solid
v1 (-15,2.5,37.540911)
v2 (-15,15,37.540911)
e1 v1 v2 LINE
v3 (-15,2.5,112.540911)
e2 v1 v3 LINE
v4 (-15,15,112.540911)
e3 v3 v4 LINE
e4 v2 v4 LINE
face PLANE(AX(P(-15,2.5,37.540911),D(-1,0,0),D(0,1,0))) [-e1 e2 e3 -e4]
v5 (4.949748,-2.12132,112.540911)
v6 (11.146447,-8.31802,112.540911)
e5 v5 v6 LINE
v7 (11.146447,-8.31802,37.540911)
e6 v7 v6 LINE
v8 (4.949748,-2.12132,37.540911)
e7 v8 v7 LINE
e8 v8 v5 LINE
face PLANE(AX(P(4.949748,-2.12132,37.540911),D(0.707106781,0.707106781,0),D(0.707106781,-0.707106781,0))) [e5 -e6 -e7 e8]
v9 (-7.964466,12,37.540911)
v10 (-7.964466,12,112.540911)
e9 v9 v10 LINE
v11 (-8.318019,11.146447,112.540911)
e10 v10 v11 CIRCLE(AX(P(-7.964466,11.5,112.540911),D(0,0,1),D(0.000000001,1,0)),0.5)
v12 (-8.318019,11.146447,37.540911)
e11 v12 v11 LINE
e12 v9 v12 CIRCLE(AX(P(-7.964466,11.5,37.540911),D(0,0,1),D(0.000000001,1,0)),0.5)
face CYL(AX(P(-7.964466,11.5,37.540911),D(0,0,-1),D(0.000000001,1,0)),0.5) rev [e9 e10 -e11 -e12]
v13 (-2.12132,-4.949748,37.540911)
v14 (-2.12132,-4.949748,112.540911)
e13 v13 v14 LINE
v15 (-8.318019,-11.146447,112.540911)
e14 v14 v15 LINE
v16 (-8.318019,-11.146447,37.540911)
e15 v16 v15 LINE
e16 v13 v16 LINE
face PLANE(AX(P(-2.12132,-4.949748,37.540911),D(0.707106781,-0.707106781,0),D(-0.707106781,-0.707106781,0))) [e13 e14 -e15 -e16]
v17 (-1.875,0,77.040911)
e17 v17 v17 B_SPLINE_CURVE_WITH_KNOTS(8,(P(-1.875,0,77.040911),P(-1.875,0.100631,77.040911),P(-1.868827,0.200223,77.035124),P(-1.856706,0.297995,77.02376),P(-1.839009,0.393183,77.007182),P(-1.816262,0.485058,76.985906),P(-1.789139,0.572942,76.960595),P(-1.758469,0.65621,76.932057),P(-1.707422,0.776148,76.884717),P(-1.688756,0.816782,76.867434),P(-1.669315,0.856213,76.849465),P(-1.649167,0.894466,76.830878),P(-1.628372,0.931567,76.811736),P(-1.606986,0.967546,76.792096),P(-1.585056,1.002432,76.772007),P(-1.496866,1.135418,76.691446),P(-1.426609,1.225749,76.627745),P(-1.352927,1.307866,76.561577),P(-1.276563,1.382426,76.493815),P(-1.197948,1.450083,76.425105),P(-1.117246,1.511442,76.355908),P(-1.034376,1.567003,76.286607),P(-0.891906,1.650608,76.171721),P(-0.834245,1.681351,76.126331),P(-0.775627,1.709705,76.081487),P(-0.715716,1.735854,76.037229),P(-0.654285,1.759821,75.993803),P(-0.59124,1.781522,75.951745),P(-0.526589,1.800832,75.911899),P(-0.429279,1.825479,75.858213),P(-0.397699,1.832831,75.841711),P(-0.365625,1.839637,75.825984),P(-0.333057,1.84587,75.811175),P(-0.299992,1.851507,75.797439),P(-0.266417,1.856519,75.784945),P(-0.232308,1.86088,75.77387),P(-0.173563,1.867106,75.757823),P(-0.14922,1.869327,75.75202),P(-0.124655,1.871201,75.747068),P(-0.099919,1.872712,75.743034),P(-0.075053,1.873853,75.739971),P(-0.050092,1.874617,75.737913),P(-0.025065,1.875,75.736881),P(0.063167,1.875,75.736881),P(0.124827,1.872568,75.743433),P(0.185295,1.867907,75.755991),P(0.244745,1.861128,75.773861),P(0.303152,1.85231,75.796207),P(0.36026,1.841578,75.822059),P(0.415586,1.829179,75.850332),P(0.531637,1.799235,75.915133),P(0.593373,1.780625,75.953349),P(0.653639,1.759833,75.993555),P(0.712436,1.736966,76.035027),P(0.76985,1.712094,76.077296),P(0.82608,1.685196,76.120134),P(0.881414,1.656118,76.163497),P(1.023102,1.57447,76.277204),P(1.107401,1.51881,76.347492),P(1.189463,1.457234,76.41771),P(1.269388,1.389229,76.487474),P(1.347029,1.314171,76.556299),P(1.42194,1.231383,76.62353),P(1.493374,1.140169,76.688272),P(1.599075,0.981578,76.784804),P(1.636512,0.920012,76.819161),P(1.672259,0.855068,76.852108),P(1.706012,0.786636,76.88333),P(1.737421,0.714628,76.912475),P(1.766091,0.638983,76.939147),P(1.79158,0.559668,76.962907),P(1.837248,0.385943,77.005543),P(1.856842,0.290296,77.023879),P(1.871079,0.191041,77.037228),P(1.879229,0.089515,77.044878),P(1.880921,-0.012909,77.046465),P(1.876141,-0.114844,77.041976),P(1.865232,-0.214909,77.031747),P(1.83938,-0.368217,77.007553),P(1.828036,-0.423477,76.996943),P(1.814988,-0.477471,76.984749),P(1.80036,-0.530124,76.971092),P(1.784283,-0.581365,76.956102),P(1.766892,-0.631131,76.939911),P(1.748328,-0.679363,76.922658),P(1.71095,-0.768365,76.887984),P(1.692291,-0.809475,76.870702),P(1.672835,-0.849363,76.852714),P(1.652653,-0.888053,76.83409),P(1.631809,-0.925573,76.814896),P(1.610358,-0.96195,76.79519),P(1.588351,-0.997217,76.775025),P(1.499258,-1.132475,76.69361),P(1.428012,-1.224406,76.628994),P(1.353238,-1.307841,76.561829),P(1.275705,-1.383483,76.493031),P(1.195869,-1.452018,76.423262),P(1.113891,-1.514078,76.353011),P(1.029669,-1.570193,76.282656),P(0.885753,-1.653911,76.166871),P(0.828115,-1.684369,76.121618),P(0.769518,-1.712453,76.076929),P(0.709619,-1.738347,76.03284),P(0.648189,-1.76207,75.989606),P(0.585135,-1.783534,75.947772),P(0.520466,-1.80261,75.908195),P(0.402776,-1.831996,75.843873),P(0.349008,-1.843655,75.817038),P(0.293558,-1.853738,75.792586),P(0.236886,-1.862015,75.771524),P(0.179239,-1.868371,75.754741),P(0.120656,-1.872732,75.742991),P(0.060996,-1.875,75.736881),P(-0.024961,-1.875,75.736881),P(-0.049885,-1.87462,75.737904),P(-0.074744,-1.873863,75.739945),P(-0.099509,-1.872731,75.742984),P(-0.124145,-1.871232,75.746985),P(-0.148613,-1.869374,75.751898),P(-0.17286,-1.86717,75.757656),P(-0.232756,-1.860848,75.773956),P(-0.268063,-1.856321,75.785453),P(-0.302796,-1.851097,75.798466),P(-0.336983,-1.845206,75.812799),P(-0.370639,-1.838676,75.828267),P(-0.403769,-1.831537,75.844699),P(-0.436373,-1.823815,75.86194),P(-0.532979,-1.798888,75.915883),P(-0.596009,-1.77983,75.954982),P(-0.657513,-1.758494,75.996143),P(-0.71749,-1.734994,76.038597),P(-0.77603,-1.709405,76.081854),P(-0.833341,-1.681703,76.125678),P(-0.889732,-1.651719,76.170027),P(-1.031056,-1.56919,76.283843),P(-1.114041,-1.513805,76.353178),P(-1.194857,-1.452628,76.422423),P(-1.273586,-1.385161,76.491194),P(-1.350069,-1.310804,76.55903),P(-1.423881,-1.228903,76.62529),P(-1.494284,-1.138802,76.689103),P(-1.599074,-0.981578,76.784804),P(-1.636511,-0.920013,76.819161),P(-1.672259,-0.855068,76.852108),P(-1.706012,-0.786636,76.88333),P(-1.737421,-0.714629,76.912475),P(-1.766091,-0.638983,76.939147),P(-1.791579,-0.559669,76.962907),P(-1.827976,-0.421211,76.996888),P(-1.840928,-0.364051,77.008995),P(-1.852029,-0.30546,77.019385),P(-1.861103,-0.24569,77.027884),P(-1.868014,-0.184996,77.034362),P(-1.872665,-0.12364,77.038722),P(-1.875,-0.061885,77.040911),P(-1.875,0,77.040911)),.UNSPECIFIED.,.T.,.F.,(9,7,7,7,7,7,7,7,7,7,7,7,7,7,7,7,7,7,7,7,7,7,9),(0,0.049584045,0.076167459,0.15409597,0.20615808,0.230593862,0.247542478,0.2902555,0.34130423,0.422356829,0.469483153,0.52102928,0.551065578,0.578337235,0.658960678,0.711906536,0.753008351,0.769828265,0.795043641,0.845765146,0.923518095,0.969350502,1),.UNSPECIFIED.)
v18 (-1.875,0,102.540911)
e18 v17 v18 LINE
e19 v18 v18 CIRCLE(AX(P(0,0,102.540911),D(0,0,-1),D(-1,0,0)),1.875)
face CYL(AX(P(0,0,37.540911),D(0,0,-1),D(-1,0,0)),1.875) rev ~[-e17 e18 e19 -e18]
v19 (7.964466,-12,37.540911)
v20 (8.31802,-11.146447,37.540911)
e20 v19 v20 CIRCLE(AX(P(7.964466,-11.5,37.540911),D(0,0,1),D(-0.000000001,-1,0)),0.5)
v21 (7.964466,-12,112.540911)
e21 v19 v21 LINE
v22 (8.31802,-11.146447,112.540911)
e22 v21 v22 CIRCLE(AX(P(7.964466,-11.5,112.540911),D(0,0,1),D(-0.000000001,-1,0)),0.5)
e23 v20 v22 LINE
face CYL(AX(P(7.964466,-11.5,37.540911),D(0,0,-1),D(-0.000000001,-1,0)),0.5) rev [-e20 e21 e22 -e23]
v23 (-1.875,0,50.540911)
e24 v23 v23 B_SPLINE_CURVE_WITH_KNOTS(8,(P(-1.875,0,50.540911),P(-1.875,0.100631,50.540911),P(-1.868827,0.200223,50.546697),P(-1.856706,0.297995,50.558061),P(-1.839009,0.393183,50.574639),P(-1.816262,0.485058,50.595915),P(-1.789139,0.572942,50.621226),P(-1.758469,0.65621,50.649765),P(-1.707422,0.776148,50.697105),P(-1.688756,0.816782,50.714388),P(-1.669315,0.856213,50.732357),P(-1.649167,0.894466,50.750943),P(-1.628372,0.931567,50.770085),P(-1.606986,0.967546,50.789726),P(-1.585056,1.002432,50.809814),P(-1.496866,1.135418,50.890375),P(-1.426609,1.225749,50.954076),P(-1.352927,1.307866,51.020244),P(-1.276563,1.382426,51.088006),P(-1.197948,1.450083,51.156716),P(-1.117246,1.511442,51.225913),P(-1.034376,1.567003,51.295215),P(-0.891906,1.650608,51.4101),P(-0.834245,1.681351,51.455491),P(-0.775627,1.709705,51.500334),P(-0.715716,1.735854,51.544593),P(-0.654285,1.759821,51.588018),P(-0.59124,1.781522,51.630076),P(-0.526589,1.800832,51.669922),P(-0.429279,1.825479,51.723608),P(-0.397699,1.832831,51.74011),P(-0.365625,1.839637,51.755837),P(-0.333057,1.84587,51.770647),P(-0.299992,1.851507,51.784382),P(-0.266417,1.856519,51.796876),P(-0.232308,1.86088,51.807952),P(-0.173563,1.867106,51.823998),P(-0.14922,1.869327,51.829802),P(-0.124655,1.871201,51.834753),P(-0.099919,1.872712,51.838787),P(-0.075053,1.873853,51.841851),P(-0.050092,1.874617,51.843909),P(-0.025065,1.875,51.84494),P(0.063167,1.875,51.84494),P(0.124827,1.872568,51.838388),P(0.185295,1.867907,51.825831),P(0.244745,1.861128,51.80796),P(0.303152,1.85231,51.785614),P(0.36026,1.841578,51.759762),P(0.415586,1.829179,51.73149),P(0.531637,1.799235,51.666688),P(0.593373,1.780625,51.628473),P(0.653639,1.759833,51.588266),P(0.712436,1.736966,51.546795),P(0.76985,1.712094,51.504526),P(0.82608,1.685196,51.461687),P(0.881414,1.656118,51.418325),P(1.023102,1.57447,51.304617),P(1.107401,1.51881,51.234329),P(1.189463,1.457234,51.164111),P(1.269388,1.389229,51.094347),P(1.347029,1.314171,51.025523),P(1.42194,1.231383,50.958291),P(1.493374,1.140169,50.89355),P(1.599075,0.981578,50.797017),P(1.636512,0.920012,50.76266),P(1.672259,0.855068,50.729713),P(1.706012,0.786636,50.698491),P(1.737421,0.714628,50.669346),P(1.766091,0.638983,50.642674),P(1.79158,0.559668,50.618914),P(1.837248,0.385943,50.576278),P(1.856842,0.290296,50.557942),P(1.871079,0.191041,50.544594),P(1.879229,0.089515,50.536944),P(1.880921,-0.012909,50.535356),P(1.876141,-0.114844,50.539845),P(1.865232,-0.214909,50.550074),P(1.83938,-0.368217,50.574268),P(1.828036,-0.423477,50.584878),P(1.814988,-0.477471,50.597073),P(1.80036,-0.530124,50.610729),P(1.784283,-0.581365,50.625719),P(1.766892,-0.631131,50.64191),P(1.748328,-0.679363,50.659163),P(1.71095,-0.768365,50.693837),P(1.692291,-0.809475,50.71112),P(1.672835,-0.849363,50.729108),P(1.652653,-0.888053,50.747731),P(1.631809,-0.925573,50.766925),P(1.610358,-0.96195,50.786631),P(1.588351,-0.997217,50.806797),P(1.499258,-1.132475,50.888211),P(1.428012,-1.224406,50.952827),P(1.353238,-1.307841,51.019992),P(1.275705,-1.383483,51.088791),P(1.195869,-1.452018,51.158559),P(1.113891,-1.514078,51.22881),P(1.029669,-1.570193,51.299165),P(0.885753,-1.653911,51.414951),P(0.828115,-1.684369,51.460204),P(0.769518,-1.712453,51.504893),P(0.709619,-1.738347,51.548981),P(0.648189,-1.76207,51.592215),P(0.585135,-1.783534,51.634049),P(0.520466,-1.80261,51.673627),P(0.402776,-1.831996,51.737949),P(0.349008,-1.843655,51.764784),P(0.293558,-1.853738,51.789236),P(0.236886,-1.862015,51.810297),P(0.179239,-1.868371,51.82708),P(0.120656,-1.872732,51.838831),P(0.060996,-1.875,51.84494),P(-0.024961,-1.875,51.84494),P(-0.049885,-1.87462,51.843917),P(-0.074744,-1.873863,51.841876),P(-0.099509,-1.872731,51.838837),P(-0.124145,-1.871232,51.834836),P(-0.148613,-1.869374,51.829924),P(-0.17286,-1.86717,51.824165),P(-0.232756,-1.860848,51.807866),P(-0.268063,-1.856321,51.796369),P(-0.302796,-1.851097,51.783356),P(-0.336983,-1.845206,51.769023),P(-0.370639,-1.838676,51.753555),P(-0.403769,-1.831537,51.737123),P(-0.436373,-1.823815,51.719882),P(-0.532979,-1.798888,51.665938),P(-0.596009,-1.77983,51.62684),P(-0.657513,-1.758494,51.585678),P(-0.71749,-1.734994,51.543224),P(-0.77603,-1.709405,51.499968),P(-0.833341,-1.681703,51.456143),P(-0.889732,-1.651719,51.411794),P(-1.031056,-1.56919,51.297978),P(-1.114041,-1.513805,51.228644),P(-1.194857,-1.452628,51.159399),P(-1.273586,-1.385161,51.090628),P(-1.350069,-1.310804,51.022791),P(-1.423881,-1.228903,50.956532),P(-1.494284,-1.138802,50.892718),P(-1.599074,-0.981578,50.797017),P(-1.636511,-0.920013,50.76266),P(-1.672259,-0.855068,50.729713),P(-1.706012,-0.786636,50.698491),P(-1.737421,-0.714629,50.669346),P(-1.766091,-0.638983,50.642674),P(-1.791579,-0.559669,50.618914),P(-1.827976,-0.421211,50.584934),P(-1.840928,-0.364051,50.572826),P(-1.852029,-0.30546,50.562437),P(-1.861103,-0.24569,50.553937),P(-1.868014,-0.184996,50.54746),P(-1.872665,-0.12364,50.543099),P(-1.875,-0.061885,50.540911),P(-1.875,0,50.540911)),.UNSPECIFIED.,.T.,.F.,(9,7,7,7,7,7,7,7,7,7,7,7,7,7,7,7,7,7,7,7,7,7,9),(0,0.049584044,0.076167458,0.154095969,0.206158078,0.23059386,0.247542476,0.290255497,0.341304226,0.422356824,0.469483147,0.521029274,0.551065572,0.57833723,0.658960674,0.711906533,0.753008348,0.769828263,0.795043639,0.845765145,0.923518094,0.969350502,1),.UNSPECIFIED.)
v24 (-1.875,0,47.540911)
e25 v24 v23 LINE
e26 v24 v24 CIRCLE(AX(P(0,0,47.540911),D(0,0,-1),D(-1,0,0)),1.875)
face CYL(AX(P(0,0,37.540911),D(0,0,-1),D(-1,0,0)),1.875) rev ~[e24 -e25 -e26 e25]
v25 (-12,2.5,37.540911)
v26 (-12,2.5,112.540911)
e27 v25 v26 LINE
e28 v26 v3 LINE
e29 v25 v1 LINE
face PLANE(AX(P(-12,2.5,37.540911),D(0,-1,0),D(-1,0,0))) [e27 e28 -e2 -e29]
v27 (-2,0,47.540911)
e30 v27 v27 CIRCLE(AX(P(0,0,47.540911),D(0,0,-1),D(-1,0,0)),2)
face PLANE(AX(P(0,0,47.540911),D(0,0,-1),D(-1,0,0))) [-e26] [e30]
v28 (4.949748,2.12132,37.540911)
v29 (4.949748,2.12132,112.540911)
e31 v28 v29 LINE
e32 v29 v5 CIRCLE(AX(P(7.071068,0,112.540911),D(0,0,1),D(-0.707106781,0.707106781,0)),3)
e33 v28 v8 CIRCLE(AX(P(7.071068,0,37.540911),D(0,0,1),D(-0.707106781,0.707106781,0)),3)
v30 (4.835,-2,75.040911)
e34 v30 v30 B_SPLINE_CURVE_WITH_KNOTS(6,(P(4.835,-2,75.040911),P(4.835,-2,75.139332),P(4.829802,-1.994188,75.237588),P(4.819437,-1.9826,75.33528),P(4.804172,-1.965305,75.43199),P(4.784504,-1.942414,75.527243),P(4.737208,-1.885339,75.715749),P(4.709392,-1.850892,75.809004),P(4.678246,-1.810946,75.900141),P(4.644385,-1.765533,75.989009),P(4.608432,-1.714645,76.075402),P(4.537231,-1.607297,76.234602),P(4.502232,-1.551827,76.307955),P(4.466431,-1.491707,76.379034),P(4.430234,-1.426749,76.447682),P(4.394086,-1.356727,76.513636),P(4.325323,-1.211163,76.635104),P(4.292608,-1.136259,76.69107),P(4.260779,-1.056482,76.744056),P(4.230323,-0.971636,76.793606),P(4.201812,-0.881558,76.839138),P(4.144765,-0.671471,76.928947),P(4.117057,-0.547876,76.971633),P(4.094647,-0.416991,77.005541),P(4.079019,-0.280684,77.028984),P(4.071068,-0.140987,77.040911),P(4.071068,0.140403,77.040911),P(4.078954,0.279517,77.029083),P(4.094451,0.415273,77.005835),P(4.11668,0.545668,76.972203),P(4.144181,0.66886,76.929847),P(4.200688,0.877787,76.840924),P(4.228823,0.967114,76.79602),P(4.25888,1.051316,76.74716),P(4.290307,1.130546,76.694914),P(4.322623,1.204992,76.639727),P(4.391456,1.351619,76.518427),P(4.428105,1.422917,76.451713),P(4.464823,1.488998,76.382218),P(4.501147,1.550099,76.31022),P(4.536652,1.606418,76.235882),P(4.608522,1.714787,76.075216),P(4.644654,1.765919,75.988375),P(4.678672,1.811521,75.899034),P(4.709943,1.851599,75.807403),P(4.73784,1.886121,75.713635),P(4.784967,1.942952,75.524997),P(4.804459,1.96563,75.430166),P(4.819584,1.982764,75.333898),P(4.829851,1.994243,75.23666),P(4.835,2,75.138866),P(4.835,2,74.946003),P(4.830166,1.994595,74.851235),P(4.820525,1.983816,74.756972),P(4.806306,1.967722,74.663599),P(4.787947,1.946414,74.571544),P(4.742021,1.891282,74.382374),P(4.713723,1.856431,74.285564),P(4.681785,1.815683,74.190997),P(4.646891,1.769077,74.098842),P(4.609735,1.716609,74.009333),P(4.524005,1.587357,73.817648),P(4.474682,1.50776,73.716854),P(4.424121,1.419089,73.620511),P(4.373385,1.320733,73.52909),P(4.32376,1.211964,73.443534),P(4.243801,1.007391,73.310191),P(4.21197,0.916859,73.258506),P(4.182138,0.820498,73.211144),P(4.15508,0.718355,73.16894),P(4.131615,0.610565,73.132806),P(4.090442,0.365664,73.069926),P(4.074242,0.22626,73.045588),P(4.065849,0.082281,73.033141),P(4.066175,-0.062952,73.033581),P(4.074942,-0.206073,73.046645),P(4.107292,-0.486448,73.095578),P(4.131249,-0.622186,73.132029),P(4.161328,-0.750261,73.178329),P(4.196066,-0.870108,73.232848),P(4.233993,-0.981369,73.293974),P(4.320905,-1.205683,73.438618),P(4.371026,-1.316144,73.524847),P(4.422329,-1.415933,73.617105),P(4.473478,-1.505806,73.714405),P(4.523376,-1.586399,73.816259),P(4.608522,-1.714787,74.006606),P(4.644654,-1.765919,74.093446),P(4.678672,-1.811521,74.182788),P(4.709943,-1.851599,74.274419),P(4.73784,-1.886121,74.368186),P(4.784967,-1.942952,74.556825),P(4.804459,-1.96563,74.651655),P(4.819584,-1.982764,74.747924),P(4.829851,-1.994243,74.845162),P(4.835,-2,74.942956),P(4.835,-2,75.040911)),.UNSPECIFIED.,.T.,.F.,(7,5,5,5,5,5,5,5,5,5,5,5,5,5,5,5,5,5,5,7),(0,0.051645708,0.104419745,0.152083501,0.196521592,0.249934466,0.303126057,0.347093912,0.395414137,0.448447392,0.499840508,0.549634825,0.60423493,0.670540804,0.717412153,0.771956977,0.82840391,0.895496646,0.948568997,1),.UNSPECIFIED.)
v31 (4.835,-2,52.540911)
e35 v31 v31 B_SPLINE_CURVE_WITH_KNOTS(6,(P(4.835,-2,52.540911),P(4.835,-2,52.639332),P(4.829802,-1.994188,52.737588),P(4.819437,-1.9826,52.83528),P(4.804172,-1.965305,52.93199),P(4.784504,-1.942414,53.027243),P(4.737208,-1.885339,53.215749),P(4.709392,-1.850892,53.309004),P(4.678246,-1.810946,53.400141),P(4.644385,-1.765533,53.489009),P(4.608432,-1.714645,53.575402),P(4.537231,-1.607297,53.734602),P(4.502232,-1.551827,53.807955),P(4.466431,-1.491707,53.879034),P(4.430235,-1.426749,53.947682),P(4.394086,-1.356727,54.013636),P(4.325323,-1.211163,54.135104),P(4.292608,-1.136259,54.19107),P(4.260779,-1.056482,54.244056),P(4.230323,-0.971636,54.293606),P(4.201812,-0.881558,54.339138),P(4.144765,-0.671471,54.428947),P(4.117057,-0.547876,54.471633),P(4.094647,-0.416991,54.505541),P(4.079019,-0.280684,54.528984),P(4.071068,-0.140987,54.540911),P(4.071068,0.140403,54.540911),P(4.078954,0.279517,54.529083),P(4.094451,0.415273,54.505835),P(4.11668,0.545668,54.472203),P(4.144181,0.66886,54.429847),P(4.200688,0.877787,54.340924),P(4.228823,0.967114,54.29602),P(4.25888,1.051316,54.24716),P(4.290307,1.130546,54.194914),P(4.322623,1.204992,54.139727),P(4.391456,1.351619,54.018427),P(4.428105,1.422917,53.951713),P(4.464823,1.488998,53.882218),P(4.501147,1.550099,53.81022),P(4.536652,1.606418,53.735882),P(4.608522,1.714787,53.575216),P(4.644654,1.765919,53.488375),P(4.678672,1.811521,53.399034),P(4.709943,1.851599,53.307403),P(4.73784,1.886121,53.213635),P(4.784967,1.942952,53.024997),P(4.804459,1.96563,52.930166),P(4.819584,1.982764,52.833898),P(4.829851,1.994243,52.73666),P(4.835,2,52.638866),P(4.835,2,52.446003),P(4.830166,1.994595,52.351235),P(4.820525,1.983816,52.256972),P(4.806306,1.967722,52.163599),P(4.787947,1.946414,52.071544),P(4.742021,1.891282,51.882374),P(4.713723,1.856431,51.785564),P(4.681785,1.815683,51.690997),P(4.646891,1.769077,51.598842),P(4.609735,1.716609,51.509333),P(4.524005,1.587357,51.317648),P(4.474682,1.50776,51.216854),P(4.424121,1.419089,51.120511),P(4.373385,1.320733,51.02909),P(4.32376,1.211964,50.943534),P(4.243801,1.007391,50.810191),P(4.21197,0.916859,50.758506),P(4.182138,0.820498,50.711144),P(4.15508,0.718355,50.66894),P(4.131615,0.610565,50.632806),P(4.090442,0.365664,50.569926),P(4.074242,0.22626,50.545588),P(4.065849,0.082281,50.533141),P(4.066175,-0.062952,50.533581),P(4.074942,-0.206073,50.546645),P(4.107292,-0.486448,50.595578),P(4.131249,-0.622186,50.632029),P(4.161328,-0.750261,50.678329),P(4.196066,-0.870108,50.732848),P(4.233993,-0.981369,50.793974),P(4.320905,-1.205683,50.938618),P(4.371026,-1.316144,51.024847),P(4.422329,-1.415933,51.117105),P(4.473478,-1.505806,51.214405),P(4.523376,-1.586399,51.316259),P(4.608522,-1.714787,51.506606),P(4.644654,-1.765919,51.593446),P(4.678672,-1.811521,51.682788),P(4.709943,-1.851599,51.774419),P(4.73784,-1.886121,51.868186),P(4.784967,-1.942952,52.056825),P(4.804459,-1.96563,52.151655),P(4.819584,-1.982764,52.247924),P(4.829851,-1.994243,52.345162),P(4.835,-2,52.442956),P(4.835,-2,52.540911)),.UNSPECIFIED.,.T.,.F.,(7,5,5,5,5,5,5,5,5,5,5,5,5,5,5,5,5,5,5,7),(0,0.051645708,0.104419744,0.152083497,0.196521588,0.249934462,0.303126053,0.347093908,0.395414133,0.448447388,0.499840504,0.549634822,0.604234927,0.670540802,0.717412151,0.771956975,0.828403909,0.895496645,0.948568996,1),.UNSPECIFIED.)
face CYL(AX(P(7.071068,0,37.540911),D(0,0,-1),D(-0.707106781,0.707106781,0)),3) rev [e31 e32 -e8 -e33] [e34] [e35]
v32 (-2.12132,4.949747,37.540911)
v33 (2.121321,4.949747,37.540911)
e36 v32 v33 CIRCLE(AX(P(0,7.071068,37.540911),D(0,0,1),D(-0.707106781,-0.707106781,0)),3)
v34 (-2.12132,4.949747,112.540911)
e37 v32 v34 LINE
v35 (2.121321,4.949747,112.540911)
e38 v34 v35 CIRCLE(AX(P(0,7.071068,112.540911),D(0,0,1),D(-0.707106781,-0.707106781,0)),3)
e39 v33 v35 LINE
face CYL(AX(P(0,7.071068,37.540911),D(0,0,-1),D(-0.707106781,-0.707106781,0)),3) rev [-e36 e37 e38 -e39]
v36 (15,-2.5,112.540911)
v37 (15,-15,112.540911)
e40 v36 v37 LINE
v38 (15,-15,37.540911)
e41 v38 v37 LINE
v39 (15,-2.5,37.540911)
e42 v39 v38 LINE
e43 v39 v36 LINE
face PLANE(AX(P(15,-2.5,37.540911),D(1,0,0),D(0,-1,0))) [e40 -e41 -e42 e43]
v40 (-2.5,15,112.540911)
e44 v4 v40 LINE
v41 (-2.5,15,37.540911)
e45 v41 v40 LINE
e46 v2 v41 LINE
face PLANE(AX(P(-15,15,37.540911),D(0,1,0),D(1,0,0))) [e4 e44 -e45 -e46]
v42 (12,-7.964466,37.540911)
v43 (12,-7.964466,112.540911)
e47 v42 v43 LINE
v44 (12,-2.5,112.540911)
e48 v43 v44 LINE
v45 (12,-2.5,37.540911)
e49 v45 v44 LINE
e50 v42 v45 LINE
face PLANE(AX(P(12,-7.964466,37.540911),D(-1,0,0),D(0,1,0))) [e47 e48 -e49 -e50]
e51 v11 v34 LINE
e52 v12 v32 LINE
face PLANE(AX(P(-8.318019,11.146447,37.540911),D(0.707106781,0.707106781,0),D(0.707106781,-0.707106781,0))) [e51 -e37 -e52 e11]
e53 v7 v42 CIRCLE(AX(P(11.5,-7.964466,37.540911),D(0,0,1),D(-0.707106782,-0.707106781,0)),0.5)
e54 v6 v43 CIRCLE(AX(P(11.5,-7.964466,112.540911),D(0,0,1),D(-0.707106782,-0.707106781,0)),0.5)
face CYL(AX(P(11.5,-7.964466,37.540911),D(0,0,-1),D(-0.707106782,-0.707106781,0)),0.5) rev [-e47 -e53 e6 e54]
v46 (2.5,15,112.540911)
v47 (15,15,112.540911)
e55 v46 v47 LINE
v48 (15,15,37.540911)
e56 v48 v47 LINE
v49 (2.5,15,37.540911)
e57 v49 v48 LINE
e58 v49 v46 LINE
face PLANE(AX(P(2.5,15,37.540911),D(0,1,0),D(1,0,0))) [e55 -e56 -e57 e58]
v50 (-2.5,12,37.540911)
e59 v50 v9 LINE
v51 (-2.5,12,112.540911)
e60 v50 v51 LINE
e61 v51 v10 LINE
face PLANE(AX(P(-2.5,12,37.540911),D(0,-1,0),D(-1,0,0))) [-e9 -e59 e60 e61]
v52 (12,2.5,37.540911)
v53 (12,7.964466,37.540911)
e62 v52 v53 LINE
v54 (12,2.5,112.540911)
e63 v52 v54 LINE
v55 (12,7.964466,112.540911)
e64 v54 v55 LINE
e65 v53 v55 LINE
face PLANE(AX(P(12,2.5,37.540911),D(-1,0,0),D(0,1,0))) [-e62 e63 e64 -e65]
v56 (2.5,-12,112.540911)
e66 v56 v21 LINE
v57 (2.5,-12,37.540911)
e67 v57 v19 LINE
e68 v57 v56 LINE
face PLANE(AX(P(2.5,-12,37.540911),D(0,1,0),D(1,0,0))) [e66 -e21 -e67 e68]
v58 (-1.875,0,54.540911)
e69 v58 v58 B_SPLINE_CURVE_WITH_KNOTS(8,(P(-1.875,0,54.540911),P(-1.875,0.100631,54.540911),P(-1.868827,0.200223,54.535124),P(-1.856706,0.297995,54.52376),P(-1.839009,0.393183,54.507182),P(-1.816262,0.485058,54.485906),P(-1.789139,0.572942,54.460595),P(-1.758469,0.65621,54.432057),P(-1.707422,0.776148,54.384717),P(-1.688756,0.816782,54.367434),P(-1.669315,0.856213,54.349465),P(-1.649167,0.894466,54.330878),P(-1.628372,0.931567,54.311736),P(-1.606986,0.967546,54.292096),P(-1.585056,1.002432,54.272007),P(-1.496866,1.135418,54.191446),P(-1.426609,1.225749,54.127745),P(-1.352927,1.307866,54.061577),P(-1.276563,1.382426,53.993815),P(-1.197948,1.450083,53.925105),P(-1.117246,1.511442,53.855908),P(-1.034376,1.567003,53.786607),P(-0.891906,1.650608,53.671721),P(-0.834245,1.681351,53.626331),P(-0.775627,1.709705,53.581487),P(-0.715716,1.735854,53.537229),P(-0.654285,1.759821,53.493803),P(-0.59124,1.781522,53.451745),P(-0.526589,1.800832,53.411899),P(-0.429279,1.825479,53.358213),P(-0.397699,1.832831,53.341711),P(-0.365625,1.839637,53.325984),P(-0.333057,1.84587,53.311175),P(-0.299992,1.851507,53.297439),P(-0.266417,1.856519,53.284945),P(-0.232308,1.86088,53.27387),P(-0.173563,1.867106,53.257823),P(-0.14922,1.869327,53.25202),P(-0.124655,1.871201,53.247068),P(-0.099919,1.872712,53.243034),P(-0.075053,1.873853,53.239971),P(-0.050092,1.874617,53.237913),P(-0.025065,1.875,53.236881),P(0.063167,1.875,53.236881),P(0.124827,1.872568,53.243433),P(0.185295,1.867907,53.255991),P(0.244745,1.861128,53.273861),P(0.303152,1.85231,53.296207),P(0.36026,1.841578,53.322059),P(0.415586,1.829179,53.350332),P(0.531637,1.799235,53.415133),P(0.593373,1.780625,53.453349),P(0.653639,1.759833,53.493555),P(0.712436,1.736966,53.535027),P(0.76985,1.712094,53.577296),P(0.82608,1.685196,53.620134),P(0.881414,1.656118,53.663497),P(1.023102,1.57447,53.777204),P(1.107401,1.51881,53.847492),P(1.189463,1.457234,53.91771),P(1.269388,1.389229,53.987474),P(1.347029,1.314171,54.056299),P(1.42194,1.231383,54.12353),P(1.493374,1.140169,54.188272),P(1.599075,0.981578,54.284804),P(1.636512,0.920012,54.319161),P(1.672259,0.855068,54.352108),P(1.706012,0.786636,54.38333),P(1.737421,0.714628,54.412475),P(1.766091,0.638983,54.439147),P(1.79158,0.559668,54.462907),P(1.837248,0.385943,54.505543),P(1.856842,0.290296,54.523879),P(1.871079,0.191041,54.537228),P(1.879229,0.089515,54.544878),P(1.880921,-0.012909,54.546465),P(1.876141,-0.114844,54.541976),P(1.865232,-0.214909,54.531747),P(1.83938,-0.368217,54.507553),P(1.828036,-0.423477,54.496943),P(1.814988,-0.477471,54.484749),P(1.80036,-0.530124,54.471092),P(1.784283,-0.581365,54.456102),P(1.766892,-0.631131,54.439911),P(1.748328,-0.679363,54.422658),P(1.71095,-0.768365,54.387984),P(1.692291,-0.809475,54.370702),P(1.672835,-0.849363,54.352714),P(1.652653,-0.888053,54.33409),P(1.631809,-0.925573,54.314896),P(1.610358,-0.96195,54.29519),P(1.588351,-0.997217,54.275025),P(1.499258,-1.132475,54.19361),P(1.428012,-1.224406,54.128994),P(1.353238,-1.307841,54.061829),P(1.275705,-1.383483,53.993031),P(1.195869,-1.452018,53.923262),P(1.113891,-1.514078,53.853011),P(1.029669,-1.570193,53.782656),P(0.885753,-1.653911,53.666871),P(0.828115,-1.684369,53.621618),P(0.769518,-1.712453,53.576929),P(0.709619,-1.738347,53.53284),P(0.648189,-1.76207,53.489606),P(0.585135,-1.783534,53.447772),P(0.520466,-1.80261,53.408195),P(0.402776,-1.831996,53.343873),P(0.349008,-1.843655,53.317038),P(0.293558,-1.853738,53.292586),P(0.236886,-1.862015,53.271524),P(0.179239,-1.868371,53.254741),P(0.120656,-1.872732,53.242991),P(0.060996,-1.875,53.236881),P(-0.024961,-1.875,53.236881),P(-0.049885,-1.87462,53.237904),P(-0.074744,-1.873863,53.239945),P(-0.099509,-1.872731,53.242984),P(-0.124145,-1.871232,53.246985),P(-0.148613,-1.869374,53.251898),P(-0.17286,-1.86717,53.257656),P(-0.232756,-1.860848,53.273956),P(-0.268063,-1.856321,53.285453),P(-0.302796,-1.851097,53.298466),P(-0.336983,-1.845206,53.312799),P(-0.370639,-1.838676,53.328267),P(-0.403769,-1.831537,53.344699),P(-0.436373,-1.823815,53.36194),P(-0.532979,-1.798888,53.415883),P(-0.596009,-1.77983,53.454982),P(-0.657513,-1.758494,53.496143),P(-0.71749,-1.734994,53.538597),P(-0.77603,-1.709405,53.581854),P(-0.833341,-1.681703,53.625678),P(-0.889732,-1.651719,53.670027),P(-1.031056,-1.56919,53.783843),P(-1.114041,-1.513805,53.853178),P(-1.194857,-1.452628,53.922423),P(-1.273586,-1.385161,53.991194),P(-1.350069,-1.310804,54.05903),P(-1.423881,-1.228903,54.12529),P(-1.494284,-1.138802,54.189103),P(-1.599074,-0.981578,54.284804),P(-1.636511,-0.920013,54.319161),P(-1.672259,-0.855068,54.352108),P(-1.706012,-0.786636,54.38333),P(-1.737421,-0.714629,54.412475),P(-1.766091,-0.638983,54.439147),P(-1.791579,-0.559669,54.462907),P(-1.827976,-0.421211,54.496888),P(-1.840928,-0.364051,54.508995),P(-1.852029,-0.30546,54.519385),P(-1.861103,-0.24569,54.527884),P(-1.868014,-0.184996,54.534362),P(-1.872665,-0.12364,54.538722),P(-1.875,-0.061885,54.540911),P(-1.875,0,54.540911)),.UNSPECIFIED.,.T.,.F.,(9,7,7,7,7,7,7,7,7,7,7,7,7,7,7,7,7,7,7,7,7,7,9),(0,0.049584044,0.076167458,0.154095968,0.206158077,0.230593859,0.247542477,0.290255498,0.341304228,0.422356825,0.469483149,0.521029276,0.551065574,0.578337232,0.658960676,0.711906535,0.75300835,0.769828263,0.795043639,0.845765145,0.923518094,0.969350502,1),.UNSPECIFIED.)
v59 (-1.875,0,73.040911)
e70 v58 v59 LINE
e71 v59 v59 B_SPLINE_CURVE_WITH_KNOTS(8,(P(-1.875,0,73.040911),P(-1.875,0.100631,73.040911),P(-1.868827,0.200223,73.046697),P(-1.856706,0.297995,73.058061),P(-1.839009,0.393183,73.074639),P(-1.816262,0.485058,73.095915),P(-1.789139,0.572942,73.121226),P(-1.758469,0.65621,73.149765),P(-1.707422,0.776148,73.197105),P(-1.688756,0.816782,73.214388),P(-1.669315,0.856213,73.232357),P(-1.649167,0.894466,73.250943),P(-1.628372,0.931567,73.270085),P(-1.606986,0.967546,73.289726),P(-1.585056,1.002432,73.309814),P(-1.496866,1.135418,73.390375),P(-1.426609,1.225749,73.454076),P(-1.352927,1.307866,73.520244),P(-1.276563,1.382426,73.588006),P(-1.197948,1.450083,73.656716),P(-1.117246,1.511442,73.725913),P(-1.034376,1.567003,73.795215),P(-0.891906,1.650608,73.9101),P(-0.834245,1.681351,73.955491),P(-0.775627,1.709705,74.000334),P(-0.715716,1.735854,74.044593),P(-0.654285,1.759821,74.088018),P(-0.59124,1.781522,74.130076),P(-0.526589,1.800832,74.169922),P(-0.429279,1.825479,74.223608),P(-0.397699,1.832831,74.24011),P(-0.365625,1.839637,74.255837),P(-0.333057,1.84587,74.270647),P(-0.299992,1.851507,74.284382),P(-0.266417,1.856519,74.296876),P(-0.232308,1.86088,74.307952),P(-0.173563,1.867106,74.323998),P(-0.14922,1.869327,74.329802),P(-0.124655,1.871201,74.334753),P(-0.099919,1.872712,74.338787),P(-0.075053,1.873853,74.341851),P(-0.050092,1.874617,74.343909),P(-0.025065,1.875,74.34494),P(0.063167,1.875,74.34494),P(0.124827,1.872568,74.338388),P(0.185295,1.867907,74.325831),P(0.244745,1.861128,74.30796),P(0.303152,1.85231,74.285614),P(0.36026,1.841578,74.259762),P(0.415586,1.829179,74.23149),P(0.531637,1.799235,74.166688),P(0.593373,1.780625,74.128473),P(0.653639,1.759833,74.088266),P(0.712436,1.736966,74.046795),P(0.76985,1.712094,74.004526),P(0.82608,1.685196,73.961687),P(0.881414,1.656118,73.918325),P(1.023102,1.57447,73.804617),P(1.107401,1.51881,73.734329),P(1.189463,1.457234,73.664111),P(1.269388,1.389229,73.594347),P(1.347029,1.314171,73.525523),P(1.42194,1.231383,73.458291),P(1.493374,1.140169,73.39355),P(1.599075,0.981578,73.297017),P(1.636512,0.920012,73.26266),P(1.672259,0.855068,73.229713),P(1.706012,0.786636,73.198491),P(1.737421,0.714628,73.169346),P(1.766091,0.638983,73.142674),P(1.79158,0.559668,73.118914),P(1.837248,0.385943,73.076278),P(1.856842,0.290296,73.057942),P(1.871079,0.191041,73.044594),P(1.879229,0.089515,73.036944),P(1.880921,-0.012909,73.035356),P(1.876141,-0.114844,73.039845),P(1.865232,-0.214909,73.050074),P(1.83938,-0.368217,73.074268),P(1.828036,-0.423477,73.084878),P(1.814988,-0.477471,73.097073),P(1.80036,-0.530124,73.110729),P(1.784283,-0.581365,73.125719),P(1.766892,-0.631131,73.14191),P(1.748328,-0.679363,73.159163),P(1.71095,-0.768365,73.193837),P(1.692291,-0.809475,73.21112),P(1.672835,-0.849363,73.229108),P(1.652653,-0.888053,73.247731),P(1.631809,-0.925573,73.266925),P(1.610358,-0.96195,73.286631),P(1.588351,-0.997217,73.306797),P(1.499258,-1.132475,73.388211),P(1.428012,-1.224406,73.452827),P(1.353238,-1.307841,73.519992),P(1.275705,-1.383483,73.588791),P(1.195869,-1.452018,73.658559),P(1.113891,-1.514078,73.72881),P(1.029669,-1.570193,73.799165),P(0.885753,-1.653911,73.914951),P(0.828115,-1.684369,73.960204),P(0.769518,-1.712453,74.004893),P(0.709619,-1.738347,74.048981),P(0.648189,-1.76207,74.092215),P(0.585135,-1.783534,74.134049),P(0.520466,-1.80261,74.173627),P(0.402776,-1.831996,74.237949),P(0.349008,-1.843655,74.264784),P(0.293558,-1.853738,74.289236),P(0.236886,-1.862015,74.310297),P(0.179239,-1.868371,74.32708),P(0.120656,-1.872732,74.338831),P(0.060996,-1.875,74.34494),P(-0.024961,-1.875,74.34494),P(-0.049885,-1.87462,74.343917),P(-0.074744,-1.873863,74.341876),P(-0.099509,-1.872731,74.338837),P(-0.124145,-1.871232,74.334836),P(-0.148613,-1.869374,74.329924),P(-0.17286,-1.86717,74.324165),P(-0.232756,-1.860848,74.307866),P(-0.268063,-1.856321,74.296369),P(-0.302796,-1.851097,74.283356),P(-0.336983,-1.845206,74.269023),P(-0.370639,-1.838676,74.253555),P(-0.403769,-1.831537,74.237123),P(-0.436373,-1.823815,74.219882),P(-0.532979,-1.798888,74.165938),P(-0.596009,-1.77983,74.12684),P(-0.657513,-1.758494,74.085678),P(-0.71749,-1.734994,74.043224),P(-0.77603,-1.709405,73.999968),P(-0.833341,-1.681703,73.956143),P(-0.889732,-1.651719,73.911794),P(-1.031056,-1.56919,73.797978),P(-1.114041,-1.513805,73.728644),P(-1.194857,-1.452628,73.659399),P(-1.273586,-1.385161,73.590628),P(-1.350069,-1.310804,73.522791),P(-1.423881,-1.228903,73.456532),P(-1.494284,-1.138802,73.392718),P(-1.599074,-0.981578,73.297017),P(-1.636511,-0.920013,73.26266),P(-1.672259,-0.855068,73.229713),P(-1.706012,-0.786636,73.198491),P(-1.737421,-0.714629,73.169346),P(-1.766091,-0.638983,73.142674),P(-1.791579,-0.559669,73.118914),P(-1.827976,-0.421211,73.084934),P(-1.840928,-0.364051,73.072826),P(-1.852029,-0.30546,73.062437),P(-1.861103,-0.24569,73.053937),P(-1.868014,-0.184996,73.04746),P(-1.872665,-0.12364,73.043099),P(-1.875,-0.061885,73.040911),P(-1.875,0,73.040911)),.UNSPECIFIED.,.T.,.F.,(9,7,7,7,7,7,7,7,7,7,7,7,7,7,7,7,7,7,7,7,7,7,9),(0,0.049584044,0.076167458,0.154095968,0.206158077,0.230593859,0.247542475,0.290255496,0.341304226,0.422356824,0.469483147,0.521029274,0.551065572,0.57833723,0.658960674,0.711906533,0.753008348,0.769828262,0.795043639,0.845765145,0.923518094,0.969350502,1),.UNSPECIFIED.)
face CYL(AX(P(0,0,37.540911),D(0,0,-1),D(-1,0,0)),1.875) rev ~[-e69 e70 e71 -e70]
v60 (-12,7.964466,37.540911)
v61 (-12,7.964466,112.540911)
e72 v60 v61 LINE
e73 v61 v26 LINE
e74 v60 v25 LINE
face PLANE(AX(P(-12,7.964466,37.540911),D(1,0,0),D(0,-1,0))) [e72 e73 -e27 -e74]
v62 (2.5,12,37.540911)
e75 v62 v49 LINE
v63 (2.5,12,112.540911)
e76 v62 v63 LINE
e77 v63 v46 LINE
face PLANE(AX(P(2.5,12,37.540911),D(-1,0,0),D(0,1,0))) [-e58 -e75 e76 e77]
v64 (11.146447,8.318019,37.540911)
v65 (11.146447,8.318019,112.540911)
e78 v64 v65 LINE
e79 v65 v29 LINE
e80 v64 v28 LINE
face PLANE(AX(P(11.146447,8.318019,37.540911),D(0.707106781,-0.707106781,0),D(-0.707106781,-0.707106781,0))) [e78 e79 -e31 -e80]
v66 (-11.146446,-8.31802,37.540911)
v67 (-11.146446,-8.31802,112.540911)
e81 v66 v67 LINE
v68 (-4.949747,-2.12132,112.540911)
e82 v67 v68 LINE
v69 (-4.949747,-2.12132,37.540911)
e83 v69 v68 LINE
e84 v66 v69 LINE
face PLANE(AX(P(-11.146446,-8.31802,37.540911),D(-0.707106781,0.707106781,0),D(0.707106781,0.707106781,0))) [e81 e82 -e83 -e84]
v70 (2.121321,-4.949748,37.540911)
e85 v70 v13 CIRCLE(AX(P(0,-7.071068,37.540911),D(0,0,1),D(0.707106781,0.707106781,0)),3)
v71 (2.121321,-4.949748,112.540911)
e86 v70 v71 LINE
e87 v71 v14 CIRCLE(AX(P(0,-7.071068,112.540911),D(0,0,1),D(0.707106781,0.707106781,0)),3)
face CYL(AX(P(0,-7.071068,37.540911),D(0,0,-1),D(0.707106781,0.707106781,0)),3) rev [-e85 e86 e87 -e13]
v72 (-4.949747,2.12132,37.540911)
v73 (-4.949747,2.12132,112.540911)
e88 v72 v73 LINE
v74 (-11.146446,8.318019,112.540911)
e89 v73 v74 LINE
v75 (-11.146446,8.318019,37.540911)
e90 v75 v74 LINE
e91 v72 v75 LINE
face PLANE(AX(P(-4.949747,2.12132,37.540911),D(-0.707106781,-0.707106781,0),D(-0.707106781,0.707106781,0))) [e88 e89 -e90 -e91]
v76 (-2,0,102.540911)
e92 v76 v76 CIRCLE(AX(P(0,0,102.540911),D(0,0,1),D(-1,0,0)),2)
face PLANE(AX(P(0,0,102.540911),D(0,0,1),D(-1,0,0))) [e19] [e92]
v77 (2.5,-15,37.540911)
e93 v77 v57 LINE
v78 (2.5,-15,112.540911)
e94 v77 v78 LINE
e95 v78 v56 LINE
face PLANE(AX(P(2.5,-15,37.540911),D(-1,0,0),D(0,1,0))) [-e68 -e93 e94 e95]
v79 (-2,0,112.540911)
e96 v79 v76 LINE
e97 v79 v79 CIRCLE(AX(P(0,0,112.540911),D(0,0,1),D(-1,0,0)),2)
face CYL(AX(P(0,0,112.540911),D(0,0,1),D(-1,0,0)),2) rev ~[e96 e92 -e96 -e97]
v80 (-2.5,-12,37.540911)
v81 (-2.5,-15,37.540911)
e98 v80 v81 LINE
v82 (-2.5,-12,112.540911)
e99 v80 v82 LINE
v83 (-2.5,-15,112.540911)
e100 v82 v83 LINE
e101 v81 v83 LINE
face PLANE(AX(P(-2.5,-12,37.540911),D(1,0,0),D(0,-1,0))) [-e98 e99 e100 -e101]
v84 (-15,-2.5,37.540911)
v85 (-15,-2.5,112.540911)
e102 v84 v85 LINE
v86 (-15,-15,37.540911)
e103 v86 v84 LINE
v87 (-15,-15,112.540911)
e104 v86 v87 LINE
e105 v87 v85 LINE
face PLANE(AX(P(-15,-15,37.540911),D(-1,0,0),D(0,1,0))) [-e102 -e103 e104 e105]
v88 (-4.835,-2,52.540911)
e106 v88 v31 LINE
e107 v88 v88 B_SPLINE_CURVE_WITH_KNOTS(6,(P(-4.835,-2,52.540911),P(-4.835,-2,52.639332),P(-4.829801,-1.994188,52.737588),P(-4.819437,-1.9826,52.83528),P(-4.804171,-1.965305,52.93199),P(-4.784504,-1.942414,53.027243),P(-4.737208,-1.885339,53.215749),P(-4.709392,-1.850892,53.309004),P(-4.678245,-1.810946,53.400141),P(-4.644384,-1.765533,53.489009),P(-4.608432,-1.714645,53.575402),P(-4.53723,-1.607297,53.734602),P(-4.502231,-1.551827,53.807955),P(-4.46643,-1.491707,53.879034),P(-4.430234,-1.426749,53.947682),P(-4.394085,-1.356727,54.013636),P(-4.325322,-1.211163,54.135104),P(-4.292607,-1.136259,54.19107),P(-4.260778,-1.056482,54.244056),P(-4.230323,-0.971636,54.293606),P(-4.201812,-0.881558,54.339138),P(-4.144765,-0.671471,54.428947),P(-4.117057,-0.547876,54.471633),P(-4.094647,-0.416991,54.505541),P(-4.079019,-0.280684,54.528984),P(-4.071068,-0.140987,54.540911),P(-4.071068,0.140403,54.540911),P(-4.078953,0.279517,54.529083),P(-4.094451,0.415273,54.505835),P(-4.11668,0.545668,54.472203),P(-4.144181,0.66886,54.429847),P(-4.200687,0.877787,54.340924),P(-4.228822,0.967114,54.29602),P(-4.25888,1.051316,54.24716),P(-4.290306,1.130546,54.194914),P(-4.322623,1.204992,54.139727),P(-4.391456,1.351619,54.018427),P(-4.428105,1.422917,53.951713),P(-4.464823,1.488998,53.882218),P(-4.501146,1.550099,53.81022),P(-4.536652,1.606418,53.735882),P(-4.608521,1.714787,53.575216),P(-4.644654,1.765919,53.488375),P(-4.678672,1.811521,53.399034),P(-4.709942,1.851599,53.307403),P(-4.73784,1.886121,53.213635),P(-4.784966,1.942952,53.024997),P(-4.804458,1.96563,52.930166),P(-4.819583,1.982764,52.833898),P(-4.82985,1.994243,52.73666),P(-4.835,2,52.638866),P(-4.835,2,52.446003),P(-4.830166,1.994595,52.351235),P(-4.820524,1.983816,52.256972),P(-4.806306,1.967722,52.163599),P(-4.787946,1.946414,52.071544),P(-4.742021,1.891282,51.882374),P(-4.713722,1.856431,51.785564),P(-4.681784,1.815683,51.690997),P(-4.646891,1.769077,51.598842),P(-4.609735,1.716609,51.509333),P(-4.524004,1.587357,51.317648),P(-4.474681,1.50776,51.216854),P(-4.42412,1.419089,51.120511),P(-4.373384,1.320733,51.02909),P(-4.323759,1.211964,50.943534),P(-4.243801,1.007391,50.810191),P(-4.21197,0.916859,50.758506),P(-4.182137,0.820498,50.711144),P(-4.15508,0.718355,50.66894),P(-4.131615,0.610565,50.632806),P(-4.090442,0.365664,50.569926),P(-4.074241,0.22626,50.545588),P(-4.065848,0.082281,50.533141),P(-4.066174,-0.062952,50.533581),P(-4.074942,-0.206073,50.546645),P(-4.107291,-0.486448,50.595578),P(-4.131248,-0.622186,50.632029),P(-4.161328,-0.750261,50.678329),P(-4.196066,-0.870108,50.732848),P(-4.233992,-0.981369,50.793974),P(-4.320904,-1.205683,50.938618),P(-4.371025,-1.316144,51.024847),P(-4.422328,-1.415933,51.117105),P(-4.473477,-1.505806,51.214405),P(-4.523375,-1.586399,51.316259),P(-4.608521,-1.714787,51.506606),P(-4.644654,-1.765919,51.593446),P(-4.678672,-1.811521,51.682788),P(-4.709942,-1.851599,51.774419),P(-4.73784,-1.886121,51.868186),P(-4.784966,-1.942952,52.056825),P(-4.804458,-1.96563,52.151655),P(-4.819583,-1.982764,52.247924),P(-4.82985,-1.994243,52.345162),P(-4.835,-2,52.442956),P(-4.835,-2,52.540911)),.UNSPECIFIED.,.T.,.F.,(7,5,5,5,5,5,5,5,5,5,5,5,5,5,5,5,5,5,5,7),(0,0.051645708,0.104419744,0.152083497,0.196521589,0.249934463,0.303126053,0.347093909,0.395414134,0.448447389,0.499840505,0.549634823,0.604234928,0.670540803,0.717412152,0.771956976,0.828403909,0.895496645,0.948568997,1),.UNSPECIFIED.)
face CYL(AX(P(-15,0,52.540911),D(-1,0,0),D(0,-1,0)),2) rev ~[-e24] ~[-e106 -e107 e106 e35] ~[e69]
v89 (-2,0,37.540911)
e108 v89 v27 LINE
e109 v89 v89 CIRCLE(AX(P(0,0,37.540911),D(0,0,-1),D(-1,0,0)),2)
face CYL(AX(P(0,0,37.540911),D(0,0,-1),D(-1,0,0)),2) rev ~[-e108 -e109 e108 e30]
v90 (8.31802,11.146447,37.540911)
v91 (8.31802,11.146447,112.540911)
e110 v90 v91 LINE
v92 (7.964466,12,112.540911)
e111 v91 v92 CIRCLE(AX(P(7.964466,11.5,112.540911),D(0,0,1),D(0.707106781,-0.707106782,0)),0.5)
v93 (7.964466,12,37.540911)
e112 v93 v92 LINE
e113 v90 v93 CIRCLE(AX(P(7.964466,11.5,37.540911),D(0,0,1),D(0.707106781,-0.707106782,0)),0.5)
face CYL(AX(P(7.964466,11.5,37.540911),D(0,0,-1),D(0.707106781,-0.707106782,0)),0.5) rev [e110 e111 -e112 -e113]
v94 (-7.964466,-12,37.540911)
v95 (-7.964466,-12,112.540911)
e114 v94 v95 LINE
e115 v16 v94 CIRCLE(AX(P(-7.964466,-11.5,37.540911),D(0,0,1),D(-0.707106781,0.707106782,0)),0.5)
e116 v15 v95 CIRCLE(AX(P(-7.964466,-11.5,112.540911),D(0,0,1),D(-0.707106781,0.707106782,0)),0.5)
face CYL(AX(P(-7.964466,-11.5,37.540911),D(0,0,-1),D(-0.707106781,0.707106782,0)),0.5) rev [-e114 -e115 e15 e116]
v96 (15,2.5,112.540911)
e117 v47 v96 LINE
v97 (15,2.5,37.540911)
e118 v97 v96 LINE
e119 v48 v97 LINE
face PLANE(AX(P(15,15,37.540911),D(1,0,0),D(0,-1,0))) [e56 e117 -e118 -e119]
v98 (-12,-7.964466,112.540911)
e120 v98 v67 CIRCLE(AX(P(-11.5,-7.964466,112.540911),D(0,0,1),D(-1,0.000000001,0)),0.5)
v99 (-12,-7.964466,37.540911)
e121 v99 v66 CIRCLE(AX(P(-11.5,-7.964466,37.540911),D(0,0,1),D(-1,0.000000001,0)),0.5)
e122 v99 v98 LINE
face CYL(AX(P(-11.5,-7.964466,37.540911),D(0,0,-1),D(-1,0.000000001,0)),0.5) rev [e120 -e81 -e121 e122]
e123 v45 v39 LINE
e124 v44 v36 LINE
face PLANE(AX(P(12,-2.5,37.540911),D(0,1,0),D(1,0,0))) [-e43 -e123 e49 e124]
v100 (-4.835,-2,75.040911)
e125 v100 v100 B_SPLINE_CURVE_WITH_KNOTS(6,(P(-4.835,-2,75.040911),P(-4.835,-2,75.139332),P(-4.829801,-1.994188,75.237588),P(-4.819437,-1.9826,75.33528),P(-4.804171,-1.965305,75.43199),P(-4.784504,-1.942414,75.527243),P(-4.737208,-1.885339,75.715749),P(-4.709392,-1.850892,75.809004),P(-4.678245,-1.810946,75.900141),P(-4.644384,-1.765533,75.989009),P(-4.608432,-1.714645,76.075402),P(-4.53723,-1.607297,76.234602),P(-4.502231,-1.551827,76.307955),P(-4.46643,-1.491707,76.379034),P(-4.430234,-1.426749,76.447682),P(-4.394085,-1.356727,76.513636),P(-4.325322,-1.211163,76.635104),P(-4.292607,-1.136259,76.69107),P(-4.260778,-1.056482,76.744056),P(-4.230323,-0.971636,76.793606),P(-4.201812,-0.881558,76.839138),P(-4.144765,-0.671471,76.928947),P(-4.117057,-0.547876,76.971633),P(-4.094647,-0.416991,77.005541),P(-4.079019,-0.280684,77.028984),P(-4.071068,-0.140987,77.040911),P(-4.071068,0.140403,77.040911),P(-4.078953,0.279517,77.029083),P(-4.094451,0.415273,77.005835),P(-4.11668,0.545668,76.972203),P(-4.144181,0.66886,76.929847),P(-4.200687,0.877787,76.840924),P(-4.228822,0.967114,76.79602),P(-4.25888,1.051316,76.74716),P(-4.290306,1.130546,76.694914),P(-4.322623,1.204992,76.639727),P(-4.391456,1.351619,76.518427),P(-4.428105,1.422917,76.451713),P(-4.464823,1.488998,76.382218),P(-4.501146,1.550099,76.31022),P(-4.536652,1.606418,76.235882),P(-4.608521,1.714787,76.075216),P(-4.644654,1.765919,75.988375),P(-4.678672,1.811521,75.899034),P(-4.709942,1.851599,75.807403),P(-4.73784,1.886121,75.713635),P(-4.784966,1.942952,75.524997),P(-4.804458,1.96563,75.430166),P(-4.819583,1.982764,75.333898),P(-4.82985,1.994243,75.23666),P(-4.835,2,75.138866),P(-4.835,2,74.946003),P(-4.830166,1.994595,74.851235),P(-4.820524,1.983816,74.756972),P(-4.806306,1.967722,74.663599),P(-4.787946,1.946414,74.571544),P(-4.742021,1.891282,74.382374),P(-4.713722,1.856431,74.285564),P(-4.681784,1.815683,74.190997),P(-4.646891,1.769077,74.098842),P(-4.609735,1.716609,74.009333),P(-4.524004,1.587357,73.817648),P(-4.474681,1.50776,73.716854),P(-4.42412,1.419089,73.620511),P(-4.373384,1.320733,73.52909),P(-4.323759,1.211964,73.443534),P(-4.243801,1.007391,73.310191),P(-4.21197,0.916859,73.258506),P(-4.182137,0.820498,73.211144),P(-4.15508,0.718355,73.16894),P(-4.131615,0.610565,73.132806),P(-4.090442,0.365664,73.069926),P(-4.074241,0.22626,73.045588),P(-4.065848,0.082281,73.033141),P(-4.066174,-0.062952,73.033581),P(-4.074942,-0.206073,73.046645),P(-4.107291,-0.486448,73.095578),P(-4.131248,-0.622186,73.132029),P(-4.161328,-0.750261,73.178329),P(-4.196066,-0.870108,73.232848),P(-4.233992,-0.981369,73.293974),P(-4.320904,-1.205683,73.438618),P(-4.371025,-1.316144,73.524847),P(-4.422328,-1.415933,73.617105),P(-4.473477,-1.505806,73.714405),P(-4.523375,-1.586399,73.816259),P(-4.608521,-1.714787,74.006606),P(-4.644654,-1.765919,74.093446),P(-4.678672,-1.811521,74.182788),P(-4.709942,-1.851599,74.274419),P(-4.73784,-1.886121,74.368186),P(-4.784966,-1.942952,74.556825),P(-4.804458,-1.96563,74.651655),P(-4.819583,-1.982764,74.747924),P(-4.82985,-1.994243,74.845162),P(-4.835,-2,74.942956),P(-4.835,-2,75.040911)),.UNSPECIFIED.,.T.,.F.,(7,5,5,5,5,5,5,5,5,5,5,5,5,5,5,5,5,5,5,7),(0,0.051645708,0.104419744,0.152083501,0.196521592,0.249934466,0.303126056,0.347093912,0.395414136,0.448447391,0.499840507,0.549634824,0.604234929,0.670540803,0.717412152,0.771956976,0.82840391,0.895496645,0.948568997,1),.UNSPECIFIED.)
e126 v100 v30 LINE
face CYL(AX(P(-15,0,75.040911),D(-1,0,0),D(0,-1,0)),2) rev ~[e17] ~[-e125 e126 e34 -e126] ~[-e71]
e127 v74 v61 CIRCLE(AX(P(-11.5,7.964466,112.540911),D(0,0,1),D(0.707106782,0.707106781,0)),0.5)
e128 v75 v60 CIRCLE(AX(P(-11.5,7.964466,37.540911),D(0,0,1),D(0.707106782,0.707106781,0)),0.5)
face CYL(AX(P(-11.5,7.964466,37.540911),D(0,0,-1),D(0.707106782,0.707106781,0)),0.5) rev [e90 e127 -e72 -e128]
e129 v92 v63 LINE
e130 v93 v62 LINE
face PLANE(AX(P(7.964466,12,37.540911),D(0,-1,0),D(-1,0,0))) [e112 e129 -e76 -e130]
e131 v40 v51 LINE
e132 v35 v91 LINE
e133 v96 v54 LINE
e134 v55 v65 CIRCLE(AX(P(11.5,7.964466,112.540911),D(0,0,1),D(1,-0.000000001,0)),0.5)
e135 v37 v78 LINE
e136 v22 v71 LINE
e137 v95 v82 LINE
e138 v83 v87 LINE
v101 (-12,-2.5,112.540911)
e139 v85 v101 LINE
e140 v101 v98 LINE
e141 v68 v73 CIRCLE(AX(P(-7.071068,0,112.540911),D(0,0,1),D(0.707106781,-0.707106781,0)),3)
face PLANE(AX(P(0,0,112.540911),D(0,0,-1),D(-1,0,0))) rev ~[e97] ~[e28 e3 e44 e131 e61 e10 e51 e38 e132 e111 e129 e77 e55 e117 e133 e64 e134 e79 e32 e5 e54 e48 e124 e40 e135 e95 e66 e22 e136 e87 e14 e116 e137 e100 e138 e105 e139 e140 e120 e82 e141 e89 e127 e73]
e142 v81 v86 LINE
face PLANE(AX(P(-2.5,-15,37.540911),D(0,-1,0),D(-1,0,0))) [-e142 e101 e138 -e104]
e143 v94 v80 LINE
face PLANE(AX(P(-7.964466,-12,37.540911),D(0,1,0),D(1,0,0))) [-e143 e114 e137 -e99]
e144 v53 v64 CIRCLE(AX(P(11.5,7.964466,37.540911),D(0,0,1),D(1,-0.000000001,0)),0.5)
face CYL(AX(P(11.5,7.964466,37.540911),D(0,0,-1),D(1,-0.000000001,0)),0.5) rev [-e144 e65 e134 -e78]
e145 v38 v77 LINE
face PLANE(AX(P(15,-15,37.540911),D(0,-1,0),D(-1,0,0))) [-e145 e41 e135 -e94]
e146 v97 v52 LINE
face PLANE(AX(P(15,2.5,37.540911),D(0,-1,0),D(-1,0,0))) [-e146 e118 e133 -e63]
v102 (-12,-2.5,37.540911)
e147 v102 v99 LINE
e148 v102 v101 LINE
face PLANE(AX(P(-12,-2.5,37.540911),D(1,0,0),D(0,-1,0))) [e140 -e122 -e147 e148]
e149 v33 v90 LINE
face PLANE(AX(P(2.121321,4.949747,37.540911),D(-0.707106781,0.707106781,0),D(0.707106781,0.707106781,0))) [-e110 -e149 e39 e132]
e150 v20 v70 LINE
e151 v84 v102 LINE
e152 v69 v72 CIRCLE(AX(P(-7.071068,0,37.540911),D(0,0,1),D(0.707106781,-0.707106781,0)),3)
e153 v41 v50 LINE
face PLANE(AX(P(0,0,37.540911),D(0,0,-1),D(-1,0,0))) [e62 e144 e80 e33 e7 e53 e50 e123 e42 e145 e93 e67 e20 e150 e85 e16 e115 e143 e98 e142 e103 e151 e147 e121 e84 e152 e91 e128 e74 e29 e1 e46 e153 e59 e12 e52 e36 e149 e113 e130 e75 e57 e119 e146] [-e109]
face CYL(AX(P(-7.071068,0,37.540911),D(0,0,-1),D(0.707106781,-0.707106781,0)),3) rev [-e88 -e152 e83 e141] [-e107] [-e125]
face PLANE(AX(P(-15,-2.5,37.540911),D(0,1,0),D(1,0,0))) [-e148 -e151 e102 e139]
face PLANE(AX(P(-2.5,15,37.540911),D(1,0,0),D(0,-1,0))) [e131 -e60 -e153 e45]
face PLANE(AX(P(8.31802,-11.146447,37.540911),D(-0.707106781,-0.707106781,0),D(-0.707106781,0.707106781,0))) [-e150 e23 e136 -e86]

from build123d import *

# Parameters (mm, degrees)
BOSS_EXTRUDE1_DEPTH = 150
SKETCH2_R           = 3.75
CUT_EXTRUDE1_DEPTH  = 151
SKETCH3_R           = 4
CUT_EXTRUDE2_DEPTH  = 61
SKETCH5_R           = 4
CUT_EXTRUDE5_DEPTH  = 20
SKETCH6_R           = 4
CUT_EXTRUDE6_DEPTH  = 20
SCALE1_SCALE        = 0.5


with BuildPart() as part:
    # Sketch1 → Boss-Extrude1 (new body)
    with BuildSketch(Plane.XY):
        with BuildLine():
            Line((-5, 30), (-5, 24))
            Line((-5, 24), (-15.928932188, 24))
            ThreePointArc((-15.928932188, 24), (-16.852811721, 23.382683432), (-16.636038969, 22.292893219))
            Line((-16.636038969, 22.292893219), (-4.242640687, 9.899494937))
            ThreePointArc((-4.242640687, 9.899494937), (0, 8.142135624), (4.242640687, 9.899494937))
            Line((4.242640687, 9.899494937), (16.636038969, 22.292893219))
            ThreePointArc((16.636038969, 22.292893219), (16.852811721, 23.382683432), (15.928932188, 24))
            Line((15.928932188, 24), (5, 24))
            Line((5, 24), (5, 30))
            Line((5, 30), (30, 30))
            Line((30, 30), (30, 5))
            Line((30, 5), (24, 5))
            Line((24, 5), (24, 15.928932188))
            ThreePointArc((24, 15.928932188), (23.382683432, 16.852811721), (22.292893219, 16.636038969))
            Line((22.292893219, 16.636038969), (9.899494937, 4.242640687))
            ThreePointArc((9.899494937, 4.242640687), (8.142135624, 0), (9.899494937, -4.242640687))
            Line((9.899494937, -4.242640687), (22.292893219, -16.636038969))
            ThreePointArc((22.292893219, -16.636038969), (23.382683432, -16.852811721), (24, -15.928932188))
            Line((24, -15.928932188), (24, -5))
            Line((24, -5), (30, -5))
            Line((30, -5), (30, -30))
            Line((30, -30), (5, -30))
            Line((5, -30), (5, -24))
            Line((5, -24), (15.928932188, -24))
            ThreePointArc((15.928932188, -24), (16.852811721, -23.382683432), (16.636038969, -22.292893219))
            Line((16.636038969, -22.292893219), (4.242640687, -9.899494937))
            ThreePointArc((4.242640687, -9.899494937), (0, -8.142135624), (-4.242640687, -9.899494937))
            Line((-4.242640687, -9.899494937), (-16.636038969, -22.292893219))
            ThreePointArc((-16.636038969, -22.292893219), (-16.852811721, -23.382683432), (-15.928932188, -24))
            Line((-15.928932188, -24), (-5, -24))
            Line((-5, -24), (-5, -30))
            Line((-5, -30), (-30, -30))
            Line((-30, -30), (-30, -5))
            Line((-30, -5), (-24, -5))
            Line((-24, -5), (-24, -15.928932188))
            ThreePointArc((-24, -15.928932188), (-23.382683432, -16.852811721), (-22.292893219, -16.636038969))
            Line((-22.292893219, -16.636038969), (-9.899494937, -4.242640687))
            ThreePointArc((-9.899494937, -4.242640687), (-8.142135624, 0), (-9.899494937, 4.242640687))
            Line((-9.899494937, 4.242640687), (-22.292893219, 16.636038969))
            ThreePointArc((-22.292893219, 16.636038969), (-23.382683432, 16.852811721), (-24, 15.928932188))
            Line((-24, 15.928932188), (-24, 5))
            Line((-24, 5), (-30, 5))
            Line((-30, 5), (-30, 30))
            Line((-30, 30), (-5, 30))
        make_face()
    extrude(amount=BOSS_EXTRUDE1_DEPTH)

    # Sketch2 → Cut-Extrude1 (cut, through all)
    with BuildSketch(Plane(origin=(0, 0, 0), x_dir=(-1, 0, 0), z_dir=(0, 0, -1))):
        Circle(SKETCH2_R)
    extrude(amount=-CUT_EXTRUDE1_DEPTH, mode=Mode.SUBTRACT)

    # Sketch3 → Cut-Extrude2 (cut, through all)
    with BuildSketch(Plane.ZY.offset(30)):
        with Locations(Location((75, 0, 0), (0, 0, 270))):  # turned: the seam where the file's is
            Circle(SKETCH3_R)
        with Locations(Location((30, 0, 0), (0, 0, 270))):  # turned: the seam where the file's is
            Circle(SKETCH3_R)
    extrude(amount=-CUT_EXTRUDE2_DEPTH, mode=Mode.SUBTRACT)

    # Sketch5 → Cut-Extrude5 (cut)
    with BuildSketch(Plane(origin=(0, 0, 0), x_dir=(-1, 0, 0), z_dir=(0, 0, -1))):
        Circle(SKETCH5_R)
    extrude(amount=-CUT_EXTRUDE5_DEPTH, mode=Mode.SUBTRACT)

    # Sketch6 → Cut-Extrude6 (cut)
    with BuildSketch(Plane.XY.offset(150)):
        with Locations(Location((0, 0, 0), (0, 0, 180))):  # turned: the seam where the file's is
            Circle(SKETCH6_R)
    extrude(amount=-CUT_EXTRUDE6_DEPTH, mode=Mode.SUBTRACT)


with BuildPart() as part_1:
    # Scale1: scaled about (5.21e-07, -1.92e-07, 75.081821445)
    add(part.part.scale(SCALE1_SCALE).moved(Location((2.6e-07, -9.6e-08, 37.540910723))))


solid = part_1.part
